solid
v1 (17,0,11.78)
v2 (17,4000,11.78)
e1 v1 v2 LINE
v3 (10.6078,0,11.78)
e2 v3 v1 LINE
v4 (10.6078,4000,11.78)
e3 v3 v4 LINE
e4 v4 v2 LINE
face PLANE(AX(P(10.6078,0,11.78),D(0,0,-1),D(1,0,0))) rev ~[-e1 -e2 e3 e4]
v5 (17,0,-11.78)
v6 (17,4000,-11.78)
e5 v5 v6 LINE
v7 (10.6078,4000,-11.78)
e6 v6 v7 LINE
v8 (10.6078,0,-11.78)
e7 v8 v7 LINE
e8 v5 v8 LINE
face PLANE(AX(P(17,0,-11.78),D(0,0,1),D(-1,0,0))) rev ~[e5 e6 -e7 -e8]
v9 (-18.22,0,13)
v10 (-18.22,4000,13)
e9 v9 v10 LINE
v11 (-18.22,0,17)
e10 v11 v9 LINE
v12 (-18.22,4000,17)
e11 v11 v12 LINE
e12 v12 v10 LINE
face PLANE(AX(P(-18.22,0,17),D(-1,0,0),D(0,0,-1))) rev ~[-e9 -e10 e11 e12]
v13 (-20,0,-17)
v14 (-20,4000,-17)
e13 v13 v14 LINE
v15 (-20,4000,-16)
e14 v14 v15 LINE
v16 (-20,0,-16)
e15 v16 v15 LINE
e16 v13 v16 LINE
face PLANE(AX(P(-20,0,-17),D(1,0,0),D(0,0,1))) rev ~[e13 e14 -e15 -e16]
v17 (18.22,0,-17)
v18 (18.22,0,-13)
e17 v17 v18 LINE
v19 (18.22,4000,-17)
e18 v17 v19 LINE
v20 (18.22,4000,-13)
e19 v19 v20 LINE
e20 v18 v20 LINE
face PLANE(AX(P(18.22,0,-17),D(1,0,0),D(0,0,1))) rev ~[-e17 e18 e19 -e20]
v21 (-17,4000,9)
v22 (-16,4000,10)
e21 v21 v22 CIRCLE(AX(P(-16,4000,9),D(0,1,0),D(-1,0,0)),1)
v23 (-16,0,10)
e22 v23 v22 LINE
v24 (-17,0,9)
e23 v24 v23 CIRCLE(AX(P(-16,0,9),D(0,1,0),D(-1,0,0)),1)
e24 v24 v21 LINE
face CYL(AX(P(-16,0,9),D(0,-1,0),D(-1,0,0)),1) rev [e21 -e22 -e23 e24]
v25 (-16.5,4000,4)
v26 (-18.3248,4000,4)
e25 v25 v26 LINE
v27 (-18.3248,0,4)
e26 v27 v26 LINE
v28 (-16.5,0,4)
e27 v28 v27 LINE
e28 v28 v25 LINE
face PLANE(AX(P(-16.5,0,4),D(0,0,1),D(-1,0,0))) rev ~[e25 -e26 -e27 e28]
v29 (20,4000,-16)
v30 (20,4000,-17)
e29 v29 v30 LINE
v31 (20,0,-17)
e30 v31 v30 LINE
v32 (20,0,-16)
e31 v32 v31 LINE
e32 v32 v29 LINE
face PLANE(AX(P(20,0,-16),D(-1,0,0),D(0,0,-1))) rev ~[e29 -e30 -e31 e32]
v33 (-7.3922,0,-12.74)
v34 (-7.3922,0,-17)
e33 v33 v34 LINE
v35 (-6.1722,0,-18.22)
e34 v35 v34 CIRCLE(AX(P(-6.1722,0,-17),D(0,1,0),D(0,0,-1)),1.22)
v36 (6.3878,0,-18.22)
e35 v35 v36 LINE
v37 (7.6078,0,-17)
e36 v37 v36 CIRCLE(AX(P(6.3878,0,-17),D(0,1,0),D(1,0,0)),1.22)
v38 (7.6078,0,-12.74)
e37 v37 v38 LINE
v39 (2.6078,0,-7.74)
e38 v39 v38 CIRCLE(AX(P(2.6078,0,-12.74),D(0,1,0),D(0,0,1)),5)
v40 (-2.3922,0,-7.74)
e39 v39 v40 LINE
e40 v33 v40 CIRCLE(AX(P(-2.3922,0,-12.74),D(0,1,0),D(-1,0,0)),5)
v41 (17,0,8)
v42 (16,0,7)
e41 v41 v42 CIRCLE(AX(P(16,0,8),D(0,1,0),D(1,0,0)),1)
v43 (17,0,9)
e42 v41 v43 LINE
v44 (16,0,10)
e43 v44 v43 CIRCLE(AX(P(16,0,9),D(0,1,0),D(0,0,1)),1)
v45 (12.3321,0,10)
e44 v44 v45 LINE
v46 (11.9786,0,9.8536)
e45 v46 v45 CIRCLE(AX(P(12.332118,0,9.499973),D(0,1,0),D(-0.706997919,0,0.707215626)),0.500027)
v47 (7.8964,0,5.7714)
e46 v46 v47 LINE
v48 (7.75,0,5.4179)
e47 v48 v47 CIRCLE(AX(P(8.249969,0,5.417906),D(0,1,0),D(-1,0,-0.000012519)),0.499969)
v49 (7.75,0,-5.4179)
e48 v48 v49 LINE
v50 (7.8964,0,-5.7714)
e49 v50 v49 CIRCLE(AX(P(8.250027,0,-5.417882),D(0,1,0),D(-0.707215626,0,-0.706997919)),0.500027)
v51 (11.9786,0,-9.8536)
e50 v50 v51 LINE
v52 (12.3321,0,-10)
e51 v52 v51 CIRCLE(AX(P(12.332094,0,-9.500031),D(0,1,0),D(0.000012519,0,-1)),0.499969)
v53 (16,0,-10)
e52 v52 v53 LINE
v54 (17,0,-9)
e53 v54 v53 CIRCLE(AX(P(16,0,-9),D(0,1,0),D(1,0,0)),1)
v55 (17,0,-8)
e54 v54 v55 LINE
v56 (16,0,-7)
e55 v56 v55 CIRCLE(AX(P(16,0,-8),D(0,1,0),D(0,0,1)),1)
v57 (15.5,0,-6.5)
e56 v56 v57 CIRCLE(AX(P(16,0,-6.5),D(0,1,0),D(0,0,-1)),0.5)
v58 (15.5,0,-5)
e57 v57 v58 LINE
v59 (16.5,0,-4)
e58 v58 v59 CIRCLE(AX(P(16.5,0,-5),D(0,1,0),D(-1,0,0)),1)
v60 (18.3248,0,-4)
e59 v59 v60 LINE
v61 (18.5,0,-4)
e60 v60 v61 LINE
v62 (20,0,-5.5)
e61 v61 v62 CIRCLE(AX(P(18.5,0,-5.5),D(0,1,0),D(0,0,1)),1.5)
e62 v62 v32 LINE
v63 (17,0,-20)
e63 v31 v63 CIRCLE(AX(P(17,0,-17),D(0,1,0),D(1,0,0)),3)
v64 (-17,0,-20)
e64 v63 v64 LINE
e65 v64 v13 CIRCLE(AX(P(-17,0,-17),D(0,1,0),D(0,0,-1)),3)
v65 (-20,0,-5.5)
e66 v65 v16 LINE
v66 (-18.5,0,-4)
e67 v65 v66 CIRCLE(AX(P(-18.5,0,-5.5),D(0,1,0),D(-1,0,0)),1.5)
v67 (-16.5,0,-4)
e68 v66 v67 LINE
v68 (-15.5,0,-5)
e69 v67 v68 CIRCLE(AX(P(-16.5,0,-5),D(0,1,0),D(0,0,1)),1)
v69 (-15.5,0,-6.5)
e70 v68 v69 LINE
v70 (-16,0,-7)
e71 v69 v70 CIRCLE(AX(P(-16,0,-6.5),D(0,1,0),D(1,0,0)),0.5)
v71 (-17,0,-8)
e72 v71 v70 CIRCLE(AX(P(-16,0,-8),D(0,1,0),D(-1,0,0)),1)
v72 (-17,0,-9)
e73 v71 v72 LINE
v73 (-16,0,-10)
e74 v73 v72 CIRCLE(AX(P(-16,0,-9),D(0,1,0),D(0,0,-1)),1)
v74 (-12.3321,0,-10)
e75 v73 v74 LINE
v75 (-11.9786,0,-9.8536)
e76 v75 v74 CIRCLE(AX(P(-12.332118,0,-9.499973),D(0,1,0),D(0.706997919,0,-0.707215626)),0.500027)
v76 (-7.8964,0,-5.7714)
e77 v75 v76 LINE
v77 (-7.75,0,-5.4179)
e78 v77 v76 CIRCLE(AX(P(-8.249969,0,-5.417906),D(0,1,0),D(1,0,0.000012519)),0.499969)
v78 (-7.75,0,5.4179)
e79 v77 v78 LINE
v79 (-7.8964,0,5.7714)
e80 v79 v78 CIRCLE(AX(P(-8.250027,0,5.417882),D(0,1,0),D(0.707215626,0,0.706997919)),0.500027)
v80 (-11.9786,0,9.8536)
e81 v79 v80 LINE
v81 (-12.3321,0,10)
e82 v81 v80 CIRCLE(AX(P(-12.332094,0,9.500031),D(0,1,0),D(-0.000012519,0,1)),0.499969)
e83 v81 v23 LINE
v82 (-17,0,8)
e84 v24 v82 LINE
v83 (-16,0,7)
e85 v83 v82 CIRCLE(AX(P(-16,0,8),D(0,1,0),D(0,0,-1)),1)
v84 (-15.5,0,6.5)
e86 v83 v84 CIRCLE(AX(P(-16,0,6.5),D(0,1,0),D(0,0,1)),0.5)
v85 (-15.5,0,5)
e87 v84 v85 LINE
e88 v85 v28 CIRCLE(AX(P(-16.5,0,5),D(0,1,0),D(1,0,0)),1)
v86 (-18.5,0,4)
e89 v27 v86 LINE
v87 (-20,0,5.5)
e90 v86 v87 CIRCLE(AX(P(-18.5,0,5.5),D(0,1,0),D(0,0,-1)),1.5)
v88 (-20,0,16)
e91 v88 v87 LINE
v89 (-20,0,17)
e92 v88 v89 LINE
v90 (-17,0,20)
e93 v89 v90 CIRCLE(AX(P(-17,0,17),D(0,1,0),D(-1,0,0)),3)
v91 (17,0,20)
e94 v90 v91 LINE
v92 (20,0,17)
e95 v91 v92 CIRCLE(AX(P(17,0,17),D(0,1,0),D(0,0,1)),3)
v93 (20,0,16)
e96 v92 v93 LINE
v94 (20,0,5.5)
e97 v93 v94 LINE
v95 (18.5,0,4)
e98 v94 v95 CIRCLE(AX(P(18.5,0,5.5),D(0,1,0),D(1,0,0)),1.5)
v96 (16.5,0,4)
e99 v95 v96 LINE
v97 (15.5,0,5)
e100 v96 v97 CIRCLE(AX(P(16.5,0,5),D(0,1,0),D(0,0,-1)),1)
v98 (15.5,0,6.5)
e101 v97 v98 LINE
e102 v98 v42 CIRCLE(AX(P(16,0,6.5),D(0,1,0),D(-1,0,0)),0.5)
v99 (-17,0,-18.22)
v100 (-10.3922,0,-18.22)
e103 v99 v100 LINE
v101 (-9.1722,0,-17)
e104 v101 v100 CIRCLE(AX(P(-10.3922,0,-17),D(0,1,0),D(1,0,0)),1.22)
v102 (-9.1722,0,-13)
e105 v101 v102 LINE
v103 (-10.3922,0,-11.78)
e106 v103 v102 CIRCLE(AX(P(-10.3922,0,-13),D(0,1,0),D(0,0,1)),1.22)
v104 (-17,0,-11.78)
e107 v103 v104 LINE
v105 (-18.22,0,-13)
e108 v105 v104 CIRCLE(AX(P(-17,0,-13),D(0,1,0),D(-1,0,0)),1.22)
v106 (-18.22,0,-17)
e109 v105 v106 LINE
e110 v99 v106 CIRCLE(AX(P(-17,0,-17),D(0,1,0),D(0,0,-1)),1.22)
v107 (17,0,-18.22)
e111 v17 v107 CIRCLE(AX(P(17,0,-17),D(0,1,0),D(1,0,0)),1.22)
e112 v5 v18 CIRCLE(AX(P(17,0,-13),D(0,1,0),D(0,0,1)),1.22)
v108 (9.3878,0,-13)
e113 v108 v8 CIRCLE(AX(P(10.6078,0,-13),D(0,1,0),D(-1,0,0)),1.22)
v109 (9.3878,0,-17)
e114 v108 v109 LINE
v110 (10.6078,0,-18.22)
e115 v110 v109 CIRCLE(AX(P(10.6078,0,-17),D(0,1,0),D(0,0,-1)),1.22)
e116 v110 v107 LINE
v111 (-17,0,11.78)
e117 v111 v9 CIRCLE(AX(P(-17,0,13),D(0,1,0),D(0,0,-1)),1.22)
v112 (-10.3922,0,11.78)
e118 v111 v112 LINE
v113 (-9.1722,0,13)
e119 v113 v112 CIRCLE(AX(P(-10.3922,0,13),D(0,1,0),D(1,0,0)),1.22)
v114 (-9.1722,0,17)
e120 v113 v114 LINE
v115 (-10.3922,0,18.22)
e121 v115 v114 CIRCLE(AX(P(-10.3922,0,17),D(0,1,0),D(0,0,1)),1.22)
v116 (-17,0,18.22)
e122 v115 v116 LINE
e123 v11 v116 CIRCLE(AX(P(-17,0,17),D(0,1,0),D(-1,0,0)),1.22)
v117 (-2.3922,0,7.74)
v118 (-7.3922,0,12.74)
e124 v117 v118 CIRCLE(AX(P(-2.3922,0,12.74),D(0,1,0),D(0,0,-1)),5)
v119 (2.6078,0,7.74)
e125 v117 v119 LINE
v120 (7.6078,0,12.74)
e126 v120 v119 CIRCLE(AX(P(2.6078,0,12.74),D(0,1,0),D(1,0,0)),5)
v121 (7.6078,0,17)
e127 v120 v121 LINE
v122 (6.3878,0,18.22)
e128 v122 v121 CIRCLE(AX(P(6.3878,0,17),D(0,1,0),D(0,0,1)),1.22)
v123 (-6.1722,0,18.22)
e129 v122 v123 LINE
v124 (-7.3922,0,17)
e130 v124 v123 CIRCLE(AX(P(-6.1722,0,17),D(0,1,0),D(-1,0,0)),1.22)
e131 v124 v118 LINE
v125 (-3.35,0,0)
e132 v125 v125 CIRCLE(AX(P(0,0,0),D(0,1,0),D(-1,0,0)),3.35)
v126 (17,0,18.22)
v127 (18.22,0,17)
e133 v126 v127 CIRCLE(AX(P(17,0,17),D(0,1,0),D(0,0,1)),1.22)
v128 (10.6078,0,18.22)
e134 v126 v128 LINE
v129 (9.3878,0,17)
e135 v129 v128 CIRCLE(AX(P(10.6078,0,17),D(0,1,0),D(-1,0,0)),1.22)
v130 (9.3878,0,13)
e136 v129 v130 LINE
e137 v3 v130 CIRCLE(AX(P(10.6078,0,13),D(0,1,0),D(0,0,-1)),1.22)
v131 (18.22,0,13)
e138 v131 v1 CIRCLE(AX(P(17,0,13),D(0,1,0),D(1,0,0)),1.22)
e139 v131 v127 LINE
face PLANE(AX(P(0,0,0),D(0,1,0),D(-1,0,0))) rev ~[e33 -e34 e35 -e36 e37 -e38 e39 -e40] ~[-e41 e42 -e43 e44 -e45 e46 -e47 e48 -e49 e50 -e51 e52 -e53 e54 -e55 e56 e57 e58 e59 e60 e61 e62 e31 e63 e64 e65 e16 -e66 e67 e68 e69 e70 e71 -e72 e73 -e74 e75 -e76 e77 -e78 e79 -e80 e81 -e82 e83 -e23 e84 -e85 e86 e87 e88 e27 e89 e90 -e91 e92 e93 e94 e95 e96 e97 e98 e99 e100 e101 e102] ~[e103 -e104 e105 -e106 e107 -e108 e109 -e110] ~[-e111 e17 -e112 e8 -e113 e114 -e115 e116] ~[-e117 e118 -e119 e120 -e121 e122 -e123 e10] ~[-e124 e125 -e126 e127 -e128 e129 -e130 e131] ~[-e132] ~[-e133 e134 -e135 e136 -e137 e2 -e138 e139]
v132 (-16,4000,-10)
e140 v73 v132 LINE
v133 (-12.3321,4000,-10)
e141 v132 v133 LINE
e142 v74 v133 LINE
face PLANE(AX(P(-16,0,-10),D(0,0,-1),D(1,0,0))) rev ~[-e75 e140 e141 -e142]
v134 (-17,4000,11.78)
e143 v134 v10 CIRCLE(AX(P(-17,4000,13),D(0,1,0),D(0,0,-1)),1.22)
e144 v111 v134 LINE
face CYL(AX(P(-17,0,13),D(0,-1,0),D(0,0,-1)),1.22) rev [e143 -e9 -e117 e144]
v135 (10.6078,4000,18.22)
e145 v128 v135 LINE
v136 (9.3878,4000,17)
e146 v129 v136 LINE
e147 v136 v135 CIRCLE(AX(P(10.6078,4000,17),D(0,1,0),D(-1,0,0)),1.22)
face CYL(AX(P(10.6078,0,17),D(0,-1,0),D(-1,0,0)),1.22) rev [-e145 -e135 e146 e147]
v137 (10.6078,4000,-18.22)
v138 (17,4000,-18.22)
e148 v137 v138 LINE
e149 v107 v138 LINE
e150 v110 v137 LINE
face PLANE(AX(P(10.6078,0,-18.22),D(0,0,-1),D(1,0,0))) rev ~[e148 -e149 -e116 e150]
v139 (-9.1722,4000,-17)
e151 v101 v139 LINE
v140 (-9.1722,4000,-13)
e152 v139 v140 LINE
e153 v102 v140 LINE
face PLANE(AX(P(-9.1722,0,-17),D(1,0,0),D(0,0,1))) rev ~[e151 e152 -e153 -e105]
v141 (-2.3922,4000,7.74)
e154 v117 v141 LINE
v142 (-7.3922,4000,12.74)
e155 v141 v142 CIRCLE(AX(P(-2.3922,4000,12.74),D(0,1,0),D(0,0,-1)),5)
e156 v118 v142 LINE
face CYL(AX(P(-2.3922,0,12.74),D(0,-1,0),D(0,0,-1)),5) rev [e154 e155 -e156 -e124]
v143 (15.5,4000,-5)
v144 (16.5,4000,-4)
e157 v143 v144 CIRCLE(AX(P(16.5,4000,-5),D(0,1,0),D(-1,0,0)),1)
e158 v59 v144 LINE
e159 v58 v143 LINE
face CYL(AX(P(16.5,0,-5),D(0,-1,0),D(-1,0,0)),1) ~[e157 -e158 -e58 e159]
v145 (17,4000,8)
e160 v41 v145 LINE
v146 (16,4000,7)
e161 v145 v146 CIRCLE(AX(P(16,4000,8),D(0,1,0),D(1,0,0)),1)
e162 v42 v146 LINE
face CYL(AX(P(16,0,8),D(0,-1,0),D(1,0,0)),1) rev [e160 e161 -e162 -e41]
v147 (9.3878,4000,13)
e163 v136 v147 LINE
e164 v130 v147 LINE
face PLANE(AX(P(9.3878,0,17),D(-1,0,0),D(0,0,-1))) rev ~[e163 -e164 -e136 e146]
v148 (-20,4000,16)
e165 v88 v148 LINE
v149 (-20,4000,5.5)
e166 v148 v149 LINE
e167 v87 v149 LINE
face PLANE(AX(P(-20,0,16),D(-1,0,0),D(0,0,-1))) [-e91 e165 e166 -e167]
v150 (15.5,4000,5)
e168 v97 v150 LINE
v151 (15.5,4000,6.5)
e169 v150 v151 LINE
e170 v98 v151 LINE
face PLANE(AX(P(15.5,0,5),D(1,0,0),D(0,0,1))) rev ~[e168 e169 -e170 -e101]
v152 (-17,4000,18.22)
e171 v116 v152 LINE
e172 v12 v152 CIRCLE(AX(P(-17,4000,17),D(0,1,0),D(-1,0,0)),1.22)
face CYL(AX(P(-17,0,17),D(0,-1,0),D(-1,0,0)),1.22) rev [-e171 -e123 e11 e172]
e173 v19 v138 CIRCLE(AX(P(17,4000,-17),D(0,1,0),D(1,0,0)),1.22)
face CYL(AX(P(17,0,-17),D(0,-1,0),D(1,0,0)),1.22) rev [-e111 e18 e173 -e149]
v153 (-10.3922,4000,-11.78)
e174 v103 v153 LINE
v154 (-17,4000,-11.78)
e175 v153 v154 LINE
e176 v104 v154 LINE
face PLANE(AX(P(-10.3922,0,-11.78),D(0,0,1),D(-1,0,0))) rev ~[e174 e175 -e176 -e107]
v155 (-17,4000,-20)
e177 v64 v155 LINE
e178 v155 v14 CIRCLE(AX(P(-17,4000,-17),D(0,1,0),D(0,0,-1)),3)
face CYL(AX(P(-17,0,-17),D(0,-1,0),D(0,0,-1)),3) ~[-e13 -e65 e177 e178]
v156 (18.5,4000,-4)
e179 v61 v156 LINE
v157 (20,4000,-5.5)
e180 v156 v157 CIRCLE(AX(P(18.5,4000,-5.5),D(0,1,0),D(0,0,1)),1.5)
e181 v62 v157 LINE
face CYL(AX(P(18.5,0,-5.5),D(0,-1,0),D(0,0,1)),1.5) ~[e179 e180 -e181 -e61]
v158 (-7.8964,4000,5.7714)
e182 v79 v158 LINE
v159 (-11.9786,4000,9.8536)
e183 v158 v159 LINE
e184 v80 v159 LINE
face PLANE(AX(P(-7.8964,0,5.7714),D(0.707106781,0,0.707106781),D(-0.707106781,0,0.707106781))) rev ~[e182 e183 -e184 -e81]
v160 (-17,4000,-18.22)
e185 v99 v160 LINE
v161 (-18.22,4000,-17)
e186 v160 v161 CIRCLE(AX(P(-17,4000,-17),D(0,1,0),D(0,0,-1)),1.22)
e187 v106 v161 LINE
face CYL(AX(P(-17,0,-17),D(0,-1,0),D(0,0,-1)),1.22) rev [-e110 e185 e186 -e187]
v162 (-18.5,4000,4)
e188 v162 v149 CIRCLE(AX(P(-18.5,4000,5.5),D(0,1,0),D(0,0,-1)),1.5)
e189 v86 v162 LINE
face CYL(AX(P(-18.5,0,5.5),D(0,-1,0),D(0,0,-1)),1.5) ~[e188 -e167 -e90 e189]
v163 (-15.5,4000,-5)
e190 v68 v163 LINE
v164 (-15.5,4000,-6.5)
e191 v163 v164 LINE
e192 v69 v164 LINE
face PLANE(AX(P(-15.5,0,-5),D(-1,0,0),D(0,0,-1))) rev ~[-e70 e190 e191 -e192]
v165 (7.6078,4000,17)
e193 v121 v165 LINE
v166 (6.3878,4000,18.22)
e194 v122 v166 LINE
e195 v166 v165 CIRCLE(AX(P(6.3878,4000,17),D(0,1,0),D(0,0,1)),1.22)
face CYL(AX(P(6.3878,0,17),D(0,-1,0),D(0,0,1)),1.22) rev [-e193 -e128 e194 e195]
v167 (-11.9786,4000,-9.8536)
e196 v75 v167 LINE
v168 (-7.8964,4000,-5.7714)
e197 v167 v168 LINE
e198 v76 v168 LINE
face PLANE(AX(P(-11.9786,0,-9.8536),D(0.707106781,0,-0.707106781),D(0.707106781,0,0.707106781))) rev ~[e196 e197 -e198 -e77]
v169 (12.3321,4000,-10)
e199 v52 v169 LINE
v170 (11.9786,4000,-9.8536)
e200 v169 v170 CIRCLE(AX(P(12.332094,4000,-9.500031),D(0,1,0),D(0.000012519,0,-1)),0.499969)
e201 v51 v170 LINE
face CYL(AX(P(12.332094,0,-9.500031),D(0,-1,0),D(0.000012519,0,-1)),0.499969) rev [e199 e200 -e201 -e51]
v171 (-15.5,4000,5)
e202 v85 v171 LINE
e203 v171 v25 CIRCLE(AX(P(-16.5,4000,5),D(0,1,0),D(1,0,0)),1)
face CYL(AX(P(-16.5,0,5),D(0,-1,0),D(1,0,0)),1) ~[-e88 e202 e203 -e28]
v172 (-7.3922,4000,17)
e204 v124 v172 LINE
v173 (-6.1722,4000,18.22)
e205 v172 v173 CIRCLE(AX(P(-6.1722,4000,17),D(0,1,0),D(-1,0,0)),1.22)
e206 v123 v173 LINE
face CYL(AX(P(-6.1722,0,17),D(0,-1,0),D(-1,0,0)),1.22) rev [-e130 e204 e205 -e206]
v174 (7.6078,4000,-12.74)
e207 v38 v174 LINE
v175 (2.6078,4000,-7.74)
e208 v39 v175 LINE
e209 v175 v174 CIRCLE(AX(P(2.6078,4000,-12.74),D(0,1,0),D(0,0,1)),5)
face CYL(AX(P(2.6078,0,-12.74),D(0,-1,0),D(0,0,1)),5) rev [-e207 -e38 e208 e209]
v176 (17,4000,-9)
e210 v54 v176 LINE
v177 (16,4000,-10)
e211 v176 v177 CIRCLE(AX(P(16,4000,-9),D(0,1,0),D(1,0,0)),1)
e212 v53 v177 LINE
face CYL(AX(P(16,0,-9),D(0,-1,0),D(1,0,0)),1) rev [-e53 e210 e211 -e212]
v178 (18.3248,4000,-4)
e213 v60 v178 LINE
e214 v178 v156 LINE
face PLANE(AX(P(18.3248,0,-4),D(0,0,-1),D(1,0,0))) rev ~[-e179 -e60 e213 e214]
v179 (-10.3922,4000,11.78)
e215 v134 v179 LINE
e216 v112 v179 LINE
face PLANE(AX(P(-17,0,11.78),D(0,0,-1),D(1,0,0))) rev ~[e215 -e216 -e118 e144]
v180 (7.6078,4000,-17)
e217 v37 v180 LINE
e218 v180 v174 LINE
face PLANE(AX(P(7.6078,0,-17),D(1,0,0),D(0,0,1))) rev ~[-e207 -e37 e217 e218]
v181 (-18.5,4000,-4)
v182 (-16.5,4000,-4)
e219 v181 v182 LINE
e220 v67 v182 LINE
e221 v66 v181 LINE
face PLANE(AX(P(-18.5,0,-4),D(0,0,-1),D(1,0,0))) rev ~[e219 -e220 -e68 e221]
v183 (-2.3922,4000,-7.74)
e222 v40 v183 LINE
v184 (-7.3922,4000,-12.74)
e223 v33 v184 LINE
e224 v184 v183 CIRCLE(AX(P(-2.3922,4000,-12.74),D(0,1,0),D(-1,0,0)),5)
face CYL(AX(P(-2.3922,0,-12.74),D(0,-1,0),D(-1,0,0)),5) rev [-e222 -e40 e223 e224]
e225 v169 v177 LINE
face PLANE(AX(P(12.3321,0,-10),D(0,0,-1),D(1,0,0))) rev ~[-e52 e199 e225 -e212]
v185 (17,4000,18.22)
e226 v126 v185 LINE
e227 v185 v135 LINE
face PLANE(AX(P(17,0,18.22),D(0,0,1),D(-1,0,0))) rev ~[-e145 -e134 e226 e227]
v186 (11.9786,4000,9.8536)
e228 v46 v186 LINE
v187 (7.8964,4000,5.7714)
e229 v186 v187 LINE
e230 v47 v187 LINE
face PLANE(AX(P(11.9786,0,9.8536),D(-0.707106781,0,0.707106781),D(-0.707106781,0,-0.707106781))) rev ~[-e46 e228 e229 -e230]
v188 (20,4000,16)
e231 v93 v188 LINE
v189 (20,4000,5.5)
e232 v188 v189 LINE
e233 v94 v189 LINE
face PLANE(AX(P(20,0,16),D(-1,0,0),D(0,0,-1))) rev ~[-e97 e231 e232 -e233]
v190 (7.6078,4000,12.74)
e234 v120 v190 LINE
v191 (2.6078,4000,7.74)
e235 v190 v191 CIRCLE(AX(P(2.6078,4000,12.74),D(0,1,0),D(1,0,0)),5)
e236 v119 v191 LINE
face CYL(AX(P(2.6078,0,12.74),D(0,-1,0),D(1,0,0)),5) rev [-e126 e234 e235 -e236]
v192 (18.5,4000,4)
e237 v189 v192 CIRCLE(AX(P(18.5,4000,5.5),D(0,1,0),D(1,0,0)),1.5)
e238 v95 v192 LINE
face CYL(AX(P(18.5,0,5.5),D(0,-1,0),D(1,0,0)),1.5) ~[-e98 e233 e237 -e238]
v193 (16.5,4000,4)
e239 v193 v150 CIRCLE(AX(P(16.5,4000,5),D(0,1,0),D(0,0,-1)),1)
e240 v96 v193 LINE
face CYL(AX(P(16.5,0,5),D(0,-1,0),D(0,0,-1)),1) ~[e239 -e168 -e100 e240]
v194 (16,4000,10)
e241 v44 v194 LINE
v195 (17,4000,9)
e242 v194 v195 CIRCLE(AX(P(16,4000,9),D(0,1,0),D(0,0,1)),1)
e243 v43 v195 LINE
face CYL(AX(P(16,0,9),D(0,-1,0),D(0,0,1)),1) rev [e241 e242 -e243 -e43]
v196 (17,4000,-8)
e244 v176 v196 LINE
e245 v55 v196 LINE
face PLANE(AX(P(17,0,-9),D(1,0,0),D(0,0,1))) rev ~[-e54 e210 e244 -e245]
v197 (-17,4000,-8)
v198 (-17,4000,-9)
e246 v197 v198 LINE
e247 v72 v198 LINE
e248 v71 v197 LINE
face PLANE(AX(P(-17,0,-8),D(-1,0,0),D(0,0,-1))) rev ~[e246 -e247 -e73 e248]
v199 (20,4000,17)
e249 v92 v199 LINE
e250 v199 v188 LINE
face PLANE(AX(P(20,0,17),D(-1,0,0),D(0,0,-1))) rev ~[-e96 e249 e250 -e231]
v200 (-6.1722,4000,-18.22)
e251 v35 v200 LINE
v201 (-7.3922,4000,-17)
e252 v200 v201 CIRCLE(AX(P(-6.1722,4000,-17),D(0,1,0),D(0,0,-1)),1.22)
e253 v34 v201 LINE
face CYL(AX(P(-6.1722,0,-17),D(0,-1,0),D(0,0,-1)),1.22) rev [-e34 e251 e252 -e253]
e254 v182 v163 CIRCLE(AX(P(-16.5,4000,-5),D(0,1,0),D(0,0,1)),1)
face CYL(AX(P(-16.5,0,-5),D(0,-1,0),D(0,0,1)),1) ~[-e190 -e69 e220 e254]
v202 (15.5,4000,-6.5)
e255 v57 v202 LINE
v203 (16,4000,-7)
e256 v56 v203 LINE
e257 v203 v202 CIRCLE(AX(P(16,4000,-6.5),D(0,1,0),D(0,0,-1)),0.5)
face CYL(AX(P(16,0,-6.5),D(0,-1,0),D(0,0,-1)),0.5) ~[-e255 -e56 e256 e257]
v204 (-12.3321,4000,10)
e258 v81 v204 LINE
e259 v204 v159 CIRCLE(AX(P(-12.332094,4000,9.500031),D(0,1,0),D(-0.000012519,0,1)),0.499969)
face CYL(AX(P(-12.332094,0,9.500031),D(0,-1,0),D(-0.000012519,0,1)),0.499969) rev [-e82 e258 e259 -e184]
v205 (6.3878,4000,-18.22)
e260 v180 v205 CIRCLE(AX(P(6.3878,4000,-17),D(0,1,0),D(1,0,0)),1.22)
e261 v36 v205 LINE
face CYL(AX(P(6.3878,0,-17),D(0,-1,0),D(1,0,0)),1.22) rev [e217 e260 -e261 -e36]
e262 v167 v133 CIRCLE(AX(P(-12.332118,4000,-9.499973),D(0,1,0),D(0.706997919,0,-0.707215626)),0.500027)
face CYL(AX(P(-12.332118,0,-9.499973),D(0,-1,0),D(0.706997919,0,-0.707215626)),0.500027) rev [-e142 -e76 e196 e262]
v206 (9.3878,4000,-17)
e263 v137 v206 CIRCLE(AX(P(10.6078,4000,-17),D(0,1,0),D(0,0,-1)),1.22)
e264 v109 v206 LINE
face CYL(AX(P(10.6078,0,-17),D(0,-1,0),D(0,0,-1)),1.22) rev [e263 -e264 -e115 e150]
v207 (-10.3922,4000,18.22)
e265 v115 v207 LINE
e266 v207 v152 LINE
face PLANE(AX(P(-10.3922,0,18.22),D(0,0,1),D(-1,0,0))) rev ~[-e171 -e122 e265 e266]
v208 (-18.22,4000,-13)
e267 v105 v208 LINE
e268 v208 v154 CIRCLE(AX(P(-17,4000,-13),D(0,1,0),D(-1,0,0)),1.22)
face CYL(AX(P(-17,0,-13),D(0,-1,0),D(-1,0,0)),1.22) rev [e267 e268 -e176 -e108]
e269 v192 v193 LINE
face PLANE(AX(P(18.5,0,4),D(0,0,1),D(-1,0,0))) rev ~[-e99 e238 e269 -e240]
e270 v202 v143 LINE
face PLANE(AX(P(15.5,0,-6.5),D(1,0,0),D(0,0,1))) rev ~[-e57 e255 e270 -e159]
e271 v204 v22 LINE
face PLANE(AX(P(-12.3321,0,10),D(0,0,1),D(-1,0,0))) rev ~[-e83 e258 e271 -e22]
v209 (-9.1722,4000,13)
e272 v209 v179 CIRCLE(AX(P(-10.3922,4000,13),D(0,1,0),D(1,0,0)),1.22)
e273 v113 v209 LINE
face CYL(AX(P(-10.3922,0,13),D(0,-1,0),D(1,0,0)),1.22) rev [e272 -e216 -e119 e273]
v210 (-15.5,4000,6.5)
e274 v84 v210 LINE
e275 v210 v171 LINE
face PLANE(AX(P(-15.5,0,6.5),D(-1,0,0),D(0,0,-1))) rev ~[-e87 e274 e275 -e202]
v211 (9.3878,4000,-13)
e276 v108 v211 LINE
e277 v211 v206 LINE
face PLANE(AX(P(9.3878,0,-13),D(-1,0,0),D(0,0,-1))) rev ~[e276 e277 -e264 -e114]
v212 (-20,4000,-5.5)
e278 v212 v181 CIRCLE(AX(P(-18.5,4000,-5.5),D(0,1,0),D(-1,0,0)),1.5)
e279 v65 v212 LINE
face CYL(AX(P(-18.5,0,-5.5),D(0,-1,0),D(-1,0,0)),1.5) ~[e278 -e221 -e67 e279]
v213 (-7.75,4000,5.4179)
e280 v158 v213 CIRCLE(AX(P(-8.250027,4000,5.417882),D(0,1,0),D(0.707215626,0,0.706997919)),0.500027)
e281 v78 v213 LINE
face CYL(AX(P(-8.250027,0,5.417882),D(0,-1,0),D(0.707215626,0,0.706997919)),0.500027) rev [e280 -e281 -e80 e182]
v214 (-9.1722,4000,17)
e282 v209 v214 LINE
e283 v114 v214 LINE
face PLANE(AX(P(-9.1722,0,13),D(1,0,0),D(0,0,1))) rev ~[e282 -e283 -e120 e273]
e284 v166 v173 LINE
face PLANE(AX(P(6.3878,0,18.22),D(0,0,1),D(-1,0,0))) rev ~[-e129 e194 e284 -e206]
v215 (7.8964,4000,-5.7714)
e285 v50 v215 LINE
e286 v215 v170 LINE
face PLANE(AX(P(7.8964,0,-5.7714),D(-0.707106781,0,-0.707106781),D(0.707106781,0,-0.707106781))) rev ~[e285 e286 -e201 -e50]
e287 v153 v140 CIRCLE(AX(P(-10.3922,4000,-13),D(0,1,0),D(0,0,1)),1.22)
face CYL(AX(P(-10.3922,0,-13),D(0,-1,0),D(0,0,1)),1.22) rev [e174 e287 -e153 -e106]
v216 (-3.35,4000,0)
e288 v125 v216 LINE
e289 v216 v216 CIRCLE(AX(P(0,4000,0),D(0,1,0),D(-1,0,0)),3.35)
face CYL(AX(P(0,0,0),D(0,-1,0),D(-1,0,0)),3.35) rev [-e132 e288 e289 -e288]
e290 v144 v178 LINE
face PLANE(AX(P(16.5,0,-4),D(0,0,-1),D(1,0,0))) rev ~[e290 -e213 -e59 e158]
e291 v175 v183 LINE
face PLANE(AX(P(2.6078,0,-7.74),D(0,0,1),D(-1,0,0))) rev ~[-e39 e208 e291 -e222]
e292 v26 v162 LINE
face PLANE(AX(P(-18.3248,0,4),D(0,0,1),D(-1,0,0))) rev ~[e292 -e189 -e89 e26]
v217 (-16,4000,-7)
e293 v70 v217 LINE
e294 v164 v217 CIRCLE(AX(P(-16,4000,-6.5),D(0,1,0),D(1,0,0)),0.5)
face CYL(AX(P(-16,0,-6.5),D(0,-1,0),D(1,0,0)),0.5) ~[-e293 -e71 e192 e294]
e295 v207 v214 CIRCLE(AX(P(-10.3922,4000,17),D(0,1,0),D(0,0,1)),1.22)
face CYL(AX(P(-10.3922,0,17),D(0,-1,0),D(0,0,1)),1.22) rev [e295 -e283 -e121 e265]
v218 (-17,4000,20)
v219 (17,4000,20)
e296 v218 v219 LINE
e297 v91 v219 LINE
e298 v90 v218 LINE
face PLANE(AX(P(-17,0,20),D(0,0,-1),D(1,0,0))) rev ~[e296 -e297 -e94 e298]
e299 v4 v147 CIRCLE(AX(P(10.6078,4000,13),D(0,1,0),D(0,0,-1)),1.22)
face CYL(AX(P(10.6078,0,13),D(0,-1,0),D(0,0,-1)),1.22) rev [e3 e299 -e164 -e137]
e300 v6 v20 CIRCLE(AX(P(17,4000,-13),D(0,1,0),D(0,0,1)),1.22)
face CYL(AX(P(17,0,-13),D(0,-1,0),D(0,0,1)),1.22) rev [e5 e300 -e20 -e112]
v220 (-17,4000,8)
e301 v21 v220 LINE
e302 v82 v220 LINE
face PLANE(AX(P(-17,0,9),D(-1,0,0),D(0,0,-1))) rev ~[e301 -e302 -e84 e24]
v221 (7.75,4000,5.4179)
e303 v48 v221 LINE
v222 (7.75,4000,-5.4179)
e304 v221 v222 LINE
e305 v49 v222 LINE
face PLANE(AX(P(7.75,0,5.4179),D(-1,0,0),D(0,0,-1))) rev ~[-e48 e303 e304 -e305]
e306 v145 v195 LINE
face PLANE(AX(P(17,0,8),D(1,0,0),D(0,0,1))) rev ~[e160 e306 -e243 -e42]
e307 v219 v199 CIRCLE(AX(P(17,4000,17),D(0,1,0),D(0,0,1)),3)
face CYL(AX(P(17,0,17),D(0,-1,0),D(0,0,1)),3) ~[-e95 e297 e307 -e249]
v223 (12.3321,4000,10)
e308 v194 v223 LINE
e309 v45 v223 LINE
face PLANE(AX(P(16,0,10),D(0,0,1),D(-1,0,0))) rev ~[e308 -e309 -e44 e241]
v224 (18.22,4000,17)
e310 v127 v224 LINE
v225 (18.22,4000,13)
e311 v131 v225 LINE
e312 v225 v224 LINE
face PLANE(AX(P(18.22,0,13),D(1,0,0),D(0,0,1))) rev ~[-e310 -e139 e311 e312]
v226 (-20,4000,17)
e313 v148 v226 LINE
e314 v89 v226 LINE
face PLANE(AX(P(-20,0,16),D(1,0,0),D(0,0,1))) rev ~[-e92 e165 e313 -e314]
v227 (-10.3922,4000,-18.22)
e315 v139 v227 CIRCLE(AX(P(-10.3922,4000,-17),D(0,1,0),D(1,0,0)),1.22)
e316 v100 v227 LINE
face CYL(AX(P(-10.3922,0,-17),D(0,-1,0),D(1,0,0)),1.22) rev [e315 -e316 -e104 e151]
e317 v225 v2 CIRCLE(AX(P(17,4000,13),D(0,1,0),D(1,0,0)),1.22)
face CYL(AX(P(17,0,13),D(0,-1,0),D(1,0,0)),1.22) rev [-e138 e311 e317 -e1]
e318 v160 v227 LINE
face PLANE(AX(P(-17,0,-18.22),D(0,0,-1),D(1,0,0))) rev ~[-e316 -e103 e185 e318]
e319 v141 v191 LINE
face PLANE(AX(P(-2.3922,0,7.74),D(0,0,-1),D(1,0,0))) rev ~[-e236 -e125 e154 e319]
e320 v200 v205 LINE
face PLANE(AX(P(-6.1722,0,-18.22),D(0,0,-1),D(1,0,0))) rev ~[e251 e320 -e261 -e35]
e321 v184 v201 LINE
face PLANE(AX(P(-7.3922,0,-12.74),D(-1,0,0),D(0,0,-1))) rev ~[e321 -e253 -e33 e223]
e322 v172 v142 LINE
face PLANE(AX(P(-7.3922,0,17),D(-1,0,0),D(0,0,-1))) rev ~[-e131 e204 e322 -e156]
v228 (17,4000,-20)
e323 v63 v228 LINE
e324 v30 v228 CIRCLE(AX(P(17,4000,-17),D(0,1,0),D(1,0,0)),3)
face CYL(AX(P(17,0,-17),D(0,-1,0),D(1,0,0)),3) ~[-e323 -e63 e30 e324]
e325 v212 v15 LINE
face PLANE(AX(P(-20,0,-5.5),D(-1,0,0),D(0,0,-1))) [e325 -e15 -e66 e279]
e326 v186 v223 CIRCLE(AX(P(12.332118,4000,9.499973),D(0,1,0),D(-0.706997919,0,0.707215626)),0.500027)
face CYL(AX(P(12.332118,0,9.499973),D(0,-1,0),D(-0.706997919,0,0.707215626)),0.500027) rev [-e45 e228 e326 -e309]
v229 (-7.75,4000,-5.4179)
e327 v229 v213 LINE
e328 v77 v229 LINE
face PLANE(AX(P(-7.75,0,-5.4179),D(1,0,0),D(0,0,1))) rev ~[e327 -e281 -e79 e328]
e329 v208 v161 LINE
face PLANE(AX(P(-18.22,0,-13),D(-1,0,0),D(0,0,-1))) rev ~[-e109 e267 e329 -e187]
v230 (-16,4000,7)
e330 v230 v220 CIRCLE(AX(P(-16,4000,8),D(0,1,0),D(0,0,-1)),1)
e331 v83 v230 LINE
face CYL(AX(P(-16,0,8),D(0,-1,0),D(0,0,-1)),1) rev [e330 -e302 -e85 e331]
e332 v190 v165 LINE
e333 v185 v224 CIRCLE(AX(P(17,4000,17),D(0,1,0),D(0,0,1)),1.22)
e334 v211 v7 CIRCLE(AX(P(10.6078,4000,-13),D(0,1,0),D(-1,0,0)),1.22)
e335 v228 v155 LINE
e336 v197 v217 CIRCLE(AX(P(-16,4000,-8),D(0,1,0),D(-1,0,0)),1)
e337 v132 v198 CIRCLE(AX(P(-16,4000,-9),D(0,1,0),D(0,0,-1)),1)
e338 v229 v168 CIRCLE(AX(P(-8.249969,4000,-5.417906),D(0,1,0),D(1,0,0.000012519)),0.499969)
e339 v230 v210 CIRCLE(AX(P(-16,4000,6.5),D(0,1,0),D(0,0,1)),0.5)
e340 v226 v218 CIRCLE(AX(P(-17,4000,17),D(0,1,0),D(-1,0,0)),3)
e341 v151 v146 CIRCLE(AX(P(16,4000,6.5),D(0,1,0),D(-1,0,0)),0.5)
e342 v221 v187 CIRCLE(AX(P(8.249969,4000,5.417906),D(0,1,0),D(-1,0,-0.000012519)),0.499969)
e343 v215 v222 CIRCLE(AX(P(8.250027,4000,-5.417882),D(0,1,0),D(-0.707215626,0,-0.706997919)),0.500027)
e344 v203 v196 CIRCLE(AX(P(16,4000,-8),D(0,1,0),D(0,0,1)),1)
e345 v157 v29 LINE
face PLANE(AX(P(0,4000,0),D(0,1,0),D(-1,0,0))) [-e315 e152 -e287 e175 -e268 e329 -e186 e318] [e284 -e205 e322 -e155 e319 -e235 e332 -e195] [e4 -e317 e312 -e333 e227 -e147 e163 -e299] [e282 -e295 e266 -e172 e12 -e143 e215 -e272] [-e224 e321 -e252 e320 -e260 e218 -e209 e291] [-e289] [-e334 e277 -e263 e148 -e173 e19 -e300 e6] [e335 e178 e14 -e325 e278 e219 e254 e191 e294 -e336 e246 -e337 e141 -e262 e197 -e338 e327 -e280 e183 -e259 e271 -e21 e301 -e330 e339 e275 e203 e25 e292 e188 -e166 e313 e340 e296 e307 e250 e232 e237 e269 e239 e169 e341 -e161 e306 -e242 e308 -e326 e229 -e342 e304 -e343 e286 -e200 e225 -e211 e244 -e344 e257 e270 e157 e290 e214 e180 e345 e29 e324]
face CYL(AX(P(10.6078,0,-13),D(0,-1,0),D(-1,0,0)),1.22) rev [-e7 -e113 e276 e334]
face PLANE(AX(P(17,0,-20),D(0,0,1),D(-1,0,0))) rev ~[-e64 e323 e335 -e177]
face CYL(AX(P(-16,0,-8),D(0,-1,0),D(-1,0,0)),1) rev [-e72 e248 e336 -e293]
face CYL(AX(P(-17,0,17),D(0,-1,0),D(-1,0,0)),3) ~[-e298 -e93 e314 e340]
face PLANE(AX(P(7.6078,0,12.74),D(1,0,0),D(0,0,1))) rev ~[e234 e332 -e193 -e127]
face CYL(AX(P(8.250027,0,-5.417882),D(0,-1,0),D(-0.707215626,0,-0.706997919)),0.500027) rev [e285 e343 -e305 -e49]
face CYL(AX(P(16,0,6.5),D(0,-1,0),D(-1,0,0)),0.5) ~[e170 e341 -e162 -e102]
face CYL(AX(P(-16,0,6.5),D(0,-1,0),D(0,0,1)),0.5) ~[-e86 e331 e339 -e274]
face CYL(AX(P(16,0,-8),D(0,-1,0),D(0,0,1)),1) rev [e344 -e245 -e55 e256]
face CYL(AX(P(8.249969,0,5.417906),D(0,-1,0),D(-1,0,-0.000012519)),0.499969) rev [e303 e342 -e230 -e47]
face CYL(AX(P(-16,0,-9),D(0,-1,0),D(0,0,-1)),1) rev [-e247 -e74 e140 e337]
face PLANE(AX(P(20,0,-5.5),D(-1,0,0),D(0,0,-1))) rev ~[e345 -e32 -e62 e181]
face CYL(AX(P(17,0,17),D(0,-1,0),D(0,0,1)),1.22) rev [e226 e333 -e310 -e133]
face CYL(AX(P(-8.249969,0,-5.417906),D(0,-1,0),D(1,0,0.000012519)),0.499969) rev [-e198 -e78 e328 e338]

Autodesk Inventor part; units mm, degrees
ref_plane "YZ Plane" through (0, 0, 0) normal (1, 0, 0) x (0, 1, 0)
ref_plane "Start Plane" through (0, 0, 0) normal (0, 1, 0) x (-1, 0, 0)
ref_plane "End Plane" through (0, 4000, 0) normal (0, 1, 0) x (-1, 0, 0)
sketch "Sketch1" plane through (0, 0, 0) normal (0, 1, 0) x (-1, 0, 0)
  line L0 (-7.6078, -17) -> (-7.6078, -12.74)
  arc A0 (-2.6078, -7.74) -> (-7.6078, -12.74) centre (-2.6078, -12.74) ccw
  line L1 (-2.6078, -7.74) -> (2.3922, -7.74)
  arc A1 (7.3922, -12.74) -> (2.3922, -7.74) centre (2.3922, -12.74) ccw
  line L2 (7.3922, -12.74) -> (7.3922, -17)
  arc A2 (6.1722, -18.22) -> (7.3922, -17) centre (6.1722, -17) ccw
  line L3 (6.1722, -18.22) -> (-6.3878, -18.22)
  arc A3 (-7.6078, -17) -> (-6.3878, -18.22) centre (-6.3878, -17) ccw
  line L4 (9.1722, -17) -> (9.1722, -13)
  arc A4 (10.3922, -11.78) -> (9.1722, -13) centre (10.3922, -13) ccw
  line L5 (10.3922, -11.78) -> (17, -11.78)
  arc A5 (18.22, -13) -> (17, -11.78) centre (17, -13) ccw
  line L6 (18.22, -13) -> (18.22, -17)
  arc A6 (17, -18.22) -> (18.22, -17) centre (17, -17) ccw
  line L7 (17, -18.22) -> (10.3922, -18.22)
  arc A7 (9.1722, -17) -> (10.3922, -18.22) centre (10.3922, -17) ccw
  line L8 (-18.22, 13) -> (-18.22, 17)
  arc A8 (-17, 18.22) -> (-18.22, 17) centre (-17, 17) ccw
  line L9 (-17, 18.22) -> (-10.6078, 18.22)
  arc A9 (-9.3878, 17) -> (-10.6078, 18.22) centre (-10.6078, 17) ccw
  line L10 (-9.3878, 17) -> (-9.3878, 13)
  arc A10 (-10.6078, 11.78) -> (-9.3878, 13) centre (-10.6078, 13) ccw
  line L11 (-10.6078, 11.78) -> (-17, 11.78)
  arc A11 (-18.22, 13) -> (-17, 11.78) centre (-17, 13) ccw
  line L12 (9.1722, 13) -> (9.1722, 17)
  arc A12 (10.3922, 18.22) -> (9.1722, 17) centre (10.3922, 17) ccw
  line L13 (10.3922, 18.22) -> (17, 18.22)
  arc A13 (18.22, 17) -> (17, 18.22) centre (17, 17) ccw
  line L14 (18.22, 17) -> (18.22, 13)
  arc A14 (17, 11.78) -> (18.22, 13) centre (17, 13) ccw
  line L15 (17, 11.78) -> (10.3922, 11.78)
  arc A15 (9.1722, 13) -> (10.3922, 11.78) centre (10.3922, 13) ccw
  line L16 (-18.22, -17) -> (-18.22, -13)
  arc A16 (-17, -11.78) -> (-18.22, -13) centre (-17, -13) ccw
  line L17 (-17, -11.78) -> (-10.6078, -11.78)
  arc A17 (-9.3878, -13) -> (-10.6078, -11.78) centre (-10.6078, -13) ccw
  line L18 (-9.3878, -13) -> (-9.3878, -17)
  arc A18 (-10.6078, -18.22) -> (-9.3878, -17) centre (-10.6078, -17) ccw
  line L19 (-10.6078, -18.22) -> (-17, -18.22)
  arc A19 (-18.22, -17) -> (-17, -18.22) centre (-17, -17) ccw
  line L20 (-7.6078, 12.74) -> (-7.6078, 17)
  arc A20 (-6.3878, 18.22) -> (-7.6078, 17) centre (-6.3878, 17) ccw
  line L21 (-6.3878, 18.22) -> (6.1722, 18.22)
  arc A21 (7.3922, 17) -> (6.1722, 18.22) centre (6.1722, 17) ccw
  line L22 (7.3922, 17) -> (7.3922, 12.74)
  arc A22 (2.3922, 7.74) -> (7.3922, 12.74) centre (2.3922, 12.74) ccw
  line L23 (2.3922, 7.74) -> (-2.6078, 7.74)
  arc A23 (-7.6078, 12.74) -> (-2.6078, 7.74) centre (-2.6078, 12.74) ccw
  arc A24 (-16, -7) -> (-15.5, -6.5) centre (-16, -6.5) ccw
  line L24 (-15.5, -6.5) -> (-15.5, -5)
  arc A25 (-15.5, -5) -> (-16.5, -4) centre (-16.5, -5) ccw
  line L25 (-16.5, -4) -> (-18.3248, -4)
  line L26 (-20, -16) -> (-20, -17)
  arc A26 (-20, -17) -> (-17, -20) centre (-17, -17) ccw
  line L27 (-17, -20) -> (17, -20)
  line L28 (20, -17) -> (20, -16)
  line L29 (18.5, -4) -> (16.5, -4)
  line L30 (-17, -9) -> (-17, -8)
  arc A27 (20, -5.5) -> (18.5, -4) centre (18.5, -5.5) ccw
  arc A28 (16.5, -4) -> (15.5, -5) centre (16.5, -5) ccw
  line L31 (15.5, -5) -> (15.5, -6.5)
  arc A29 (15.5, -6.5) -> (16, -7) centre (16, -6.5) ccw
  arc A30 (17, -8) -> (16, -7) centre (16, -8) ccw
  line L32 (17, -8) -> (17, -9)
  arc A31 (16, -10) -> (17, -9) centre (16, -9) ccw
  line L33 (16, -10) -> (12.3321, -10)
  arc A32 (11.9786, -9.8536) -> (12.3321, -10) centre (12.3321, -9.5) ccw
  line L34 (11.9786, -9.8536) -> (7.8964, -5.7714)
  arc A33 (7.75, -5.4179) -> (7.8964, -5.7714) centre (8.25, -5.4179) ccw
  line L35 (7.75, -5.4179) -> (7.75, 5.4179)
  arc A34 (7.8964, 5.7714) -> (7.75, 5.4179) centre (8.25, 5.4179) ccw
  line L36 (7.8964, 5.7714) -> (11.9786, 9.8536)
  arc A35 (12.3321, 10) -> (11.9786, 9.8536) centre (12.3321, 9.5) ccw
  line L37 (12.3321, 10) -> (16, 10)
  arc A36 (17, 9) -> (16, 10) centre (16, 9) ccw
  line L38 (17, 9) -> (17, 8)
  arc A37 (16, 7) -> (17, 8) centre (16, 8) ccw
  arc A38 (16, 7) -> (15.5, 6.5) centre (16, 6.5) ccw
  line L39 (15.5, 6.5) -> (15.5, 5)
  arc A39 (15.5, 5) -> (16.5, 4) centre (16.5, 5) ccw
  line L40 (16.5, 4) -> (18.3248, 4)
  line L41 (20, 16) -> (20, 17)
  line L42 (17, 20) -> (-17, 20)
  arc A40 (-17, 20) -> (-20, 17) centre (-17, 17) ccw
  line L43 (-20, 17) -> (-20, 16)
  line L44 (-18.5, 4) -> (-16.5, 4)
  arc A41 (-20, 5.5) -> (-18.5, 4) centre (-18.5, 5.5) ccw
  arc A42 (-16.5, 4) -> (-15.5, 5) centre (-16.5, 5) ccw
  line L45 (-15.5, 5) -> (-15.5, 6.5)
  arc A43 (-15.5, 6.5) -> (-16, 7) centre (-16, 6.5) ccw
  arc A44 (-17, 8) -> (-16, 7) centre (-16, 8) ccw
  line L46 (-17, 8) -> (-17, 9)
  arc A45 (-16, 10) -> (-17, 9) centre (-16, 9) ccw
  line L47 (-16, 10) -> (-12.3321, 10)
  arc A46 (-11.9786, 9.8536) -> (-12.3321, 10) centre (-12.3321, 9.5) ccw
  line L48 (-11.9786, 9.8536) -> (-7.8964, 5.7714)
  arc A47 (-7.75, 5.4179) -> (-7.8964, 5.7714) centre (-8.25, 5.4179) ccw
  line L49 (-7.75, 5.4179) -> (-7.75, -5.4179)
  arc A48 (-7.8964, -5.7714) -> (-7.75, -5.4179) centre (-8.25, -5.4179) ccw
  line L50 (-7.8964, -5.7714) -> (-11.9786, -9.8536)
  arc A49 (-12.3321, -10) -> (-11.9786, -9.8536) centre (-12.3321, -9.5) ccw
  line L51 (-12.3321, -10) -> (-16, -10)
  arc A50 (-17, -9) -> (-16, -10) centre (-16, -9) ccw
  arc A51 (-16, -7) -> (-17, -8) centre (-16, -8) ccw
  circle A52 centre (0, 0) radius 3.35
  line L52 (-20, 17) -> (-20, 5.5)
  line L53 (20, 17) -> (20, 5.5)
  arc A53 (18.5, 4) -> (20, 5.5) centre (18.5, 5.5) ccw
  arc A54 (20, 17) -> (17, 20) centre (17, 17) ccw
  line L54 (18.3248, 4) -> (18.5, 4)
  line L55 (20, -5.5) -> (20, -17)
  arc A55 (17, -20) -> (20, -17) centre (17, -17) ccw
  line L56 (-20, -5.5) -> (-20, -17)
  line L57 (-18.3248, -4) -> (-18.5, -4)
  arc A56 (-18.5, -4) -> (-20, -5.5) centre (-18.5, -5.5) ccw
extrude "Body" add sketch "Sketch1" along normal up to surface (4000 mm away) from surface at 0
sketch "Sketch2" plane through (0, 0, 0) normal (0, 1, 0) x (-1, 0, 0)
  line L0 (0, 0) -> (10, 0)
ref_plane "Work Plane3" through (0, 0, 0) normal (0, 0, -1) x (-1, 0, 0)
sketch "Sketch3" plane through (0, 0, 0) normal (0, 0, -1) x (-1, 0, 0)
  line L0 (-2, 0) -> (12, 0)
  line L1 (-2, 4000) -> (12, 4000)
  dimension "d7" = 4000
equation "\"G_OFFSET_START\" = 0"
equation "\"G_OFFSET_END\" = 0"
equation "\"G_L\" = d7"
properties part number "10-240"
